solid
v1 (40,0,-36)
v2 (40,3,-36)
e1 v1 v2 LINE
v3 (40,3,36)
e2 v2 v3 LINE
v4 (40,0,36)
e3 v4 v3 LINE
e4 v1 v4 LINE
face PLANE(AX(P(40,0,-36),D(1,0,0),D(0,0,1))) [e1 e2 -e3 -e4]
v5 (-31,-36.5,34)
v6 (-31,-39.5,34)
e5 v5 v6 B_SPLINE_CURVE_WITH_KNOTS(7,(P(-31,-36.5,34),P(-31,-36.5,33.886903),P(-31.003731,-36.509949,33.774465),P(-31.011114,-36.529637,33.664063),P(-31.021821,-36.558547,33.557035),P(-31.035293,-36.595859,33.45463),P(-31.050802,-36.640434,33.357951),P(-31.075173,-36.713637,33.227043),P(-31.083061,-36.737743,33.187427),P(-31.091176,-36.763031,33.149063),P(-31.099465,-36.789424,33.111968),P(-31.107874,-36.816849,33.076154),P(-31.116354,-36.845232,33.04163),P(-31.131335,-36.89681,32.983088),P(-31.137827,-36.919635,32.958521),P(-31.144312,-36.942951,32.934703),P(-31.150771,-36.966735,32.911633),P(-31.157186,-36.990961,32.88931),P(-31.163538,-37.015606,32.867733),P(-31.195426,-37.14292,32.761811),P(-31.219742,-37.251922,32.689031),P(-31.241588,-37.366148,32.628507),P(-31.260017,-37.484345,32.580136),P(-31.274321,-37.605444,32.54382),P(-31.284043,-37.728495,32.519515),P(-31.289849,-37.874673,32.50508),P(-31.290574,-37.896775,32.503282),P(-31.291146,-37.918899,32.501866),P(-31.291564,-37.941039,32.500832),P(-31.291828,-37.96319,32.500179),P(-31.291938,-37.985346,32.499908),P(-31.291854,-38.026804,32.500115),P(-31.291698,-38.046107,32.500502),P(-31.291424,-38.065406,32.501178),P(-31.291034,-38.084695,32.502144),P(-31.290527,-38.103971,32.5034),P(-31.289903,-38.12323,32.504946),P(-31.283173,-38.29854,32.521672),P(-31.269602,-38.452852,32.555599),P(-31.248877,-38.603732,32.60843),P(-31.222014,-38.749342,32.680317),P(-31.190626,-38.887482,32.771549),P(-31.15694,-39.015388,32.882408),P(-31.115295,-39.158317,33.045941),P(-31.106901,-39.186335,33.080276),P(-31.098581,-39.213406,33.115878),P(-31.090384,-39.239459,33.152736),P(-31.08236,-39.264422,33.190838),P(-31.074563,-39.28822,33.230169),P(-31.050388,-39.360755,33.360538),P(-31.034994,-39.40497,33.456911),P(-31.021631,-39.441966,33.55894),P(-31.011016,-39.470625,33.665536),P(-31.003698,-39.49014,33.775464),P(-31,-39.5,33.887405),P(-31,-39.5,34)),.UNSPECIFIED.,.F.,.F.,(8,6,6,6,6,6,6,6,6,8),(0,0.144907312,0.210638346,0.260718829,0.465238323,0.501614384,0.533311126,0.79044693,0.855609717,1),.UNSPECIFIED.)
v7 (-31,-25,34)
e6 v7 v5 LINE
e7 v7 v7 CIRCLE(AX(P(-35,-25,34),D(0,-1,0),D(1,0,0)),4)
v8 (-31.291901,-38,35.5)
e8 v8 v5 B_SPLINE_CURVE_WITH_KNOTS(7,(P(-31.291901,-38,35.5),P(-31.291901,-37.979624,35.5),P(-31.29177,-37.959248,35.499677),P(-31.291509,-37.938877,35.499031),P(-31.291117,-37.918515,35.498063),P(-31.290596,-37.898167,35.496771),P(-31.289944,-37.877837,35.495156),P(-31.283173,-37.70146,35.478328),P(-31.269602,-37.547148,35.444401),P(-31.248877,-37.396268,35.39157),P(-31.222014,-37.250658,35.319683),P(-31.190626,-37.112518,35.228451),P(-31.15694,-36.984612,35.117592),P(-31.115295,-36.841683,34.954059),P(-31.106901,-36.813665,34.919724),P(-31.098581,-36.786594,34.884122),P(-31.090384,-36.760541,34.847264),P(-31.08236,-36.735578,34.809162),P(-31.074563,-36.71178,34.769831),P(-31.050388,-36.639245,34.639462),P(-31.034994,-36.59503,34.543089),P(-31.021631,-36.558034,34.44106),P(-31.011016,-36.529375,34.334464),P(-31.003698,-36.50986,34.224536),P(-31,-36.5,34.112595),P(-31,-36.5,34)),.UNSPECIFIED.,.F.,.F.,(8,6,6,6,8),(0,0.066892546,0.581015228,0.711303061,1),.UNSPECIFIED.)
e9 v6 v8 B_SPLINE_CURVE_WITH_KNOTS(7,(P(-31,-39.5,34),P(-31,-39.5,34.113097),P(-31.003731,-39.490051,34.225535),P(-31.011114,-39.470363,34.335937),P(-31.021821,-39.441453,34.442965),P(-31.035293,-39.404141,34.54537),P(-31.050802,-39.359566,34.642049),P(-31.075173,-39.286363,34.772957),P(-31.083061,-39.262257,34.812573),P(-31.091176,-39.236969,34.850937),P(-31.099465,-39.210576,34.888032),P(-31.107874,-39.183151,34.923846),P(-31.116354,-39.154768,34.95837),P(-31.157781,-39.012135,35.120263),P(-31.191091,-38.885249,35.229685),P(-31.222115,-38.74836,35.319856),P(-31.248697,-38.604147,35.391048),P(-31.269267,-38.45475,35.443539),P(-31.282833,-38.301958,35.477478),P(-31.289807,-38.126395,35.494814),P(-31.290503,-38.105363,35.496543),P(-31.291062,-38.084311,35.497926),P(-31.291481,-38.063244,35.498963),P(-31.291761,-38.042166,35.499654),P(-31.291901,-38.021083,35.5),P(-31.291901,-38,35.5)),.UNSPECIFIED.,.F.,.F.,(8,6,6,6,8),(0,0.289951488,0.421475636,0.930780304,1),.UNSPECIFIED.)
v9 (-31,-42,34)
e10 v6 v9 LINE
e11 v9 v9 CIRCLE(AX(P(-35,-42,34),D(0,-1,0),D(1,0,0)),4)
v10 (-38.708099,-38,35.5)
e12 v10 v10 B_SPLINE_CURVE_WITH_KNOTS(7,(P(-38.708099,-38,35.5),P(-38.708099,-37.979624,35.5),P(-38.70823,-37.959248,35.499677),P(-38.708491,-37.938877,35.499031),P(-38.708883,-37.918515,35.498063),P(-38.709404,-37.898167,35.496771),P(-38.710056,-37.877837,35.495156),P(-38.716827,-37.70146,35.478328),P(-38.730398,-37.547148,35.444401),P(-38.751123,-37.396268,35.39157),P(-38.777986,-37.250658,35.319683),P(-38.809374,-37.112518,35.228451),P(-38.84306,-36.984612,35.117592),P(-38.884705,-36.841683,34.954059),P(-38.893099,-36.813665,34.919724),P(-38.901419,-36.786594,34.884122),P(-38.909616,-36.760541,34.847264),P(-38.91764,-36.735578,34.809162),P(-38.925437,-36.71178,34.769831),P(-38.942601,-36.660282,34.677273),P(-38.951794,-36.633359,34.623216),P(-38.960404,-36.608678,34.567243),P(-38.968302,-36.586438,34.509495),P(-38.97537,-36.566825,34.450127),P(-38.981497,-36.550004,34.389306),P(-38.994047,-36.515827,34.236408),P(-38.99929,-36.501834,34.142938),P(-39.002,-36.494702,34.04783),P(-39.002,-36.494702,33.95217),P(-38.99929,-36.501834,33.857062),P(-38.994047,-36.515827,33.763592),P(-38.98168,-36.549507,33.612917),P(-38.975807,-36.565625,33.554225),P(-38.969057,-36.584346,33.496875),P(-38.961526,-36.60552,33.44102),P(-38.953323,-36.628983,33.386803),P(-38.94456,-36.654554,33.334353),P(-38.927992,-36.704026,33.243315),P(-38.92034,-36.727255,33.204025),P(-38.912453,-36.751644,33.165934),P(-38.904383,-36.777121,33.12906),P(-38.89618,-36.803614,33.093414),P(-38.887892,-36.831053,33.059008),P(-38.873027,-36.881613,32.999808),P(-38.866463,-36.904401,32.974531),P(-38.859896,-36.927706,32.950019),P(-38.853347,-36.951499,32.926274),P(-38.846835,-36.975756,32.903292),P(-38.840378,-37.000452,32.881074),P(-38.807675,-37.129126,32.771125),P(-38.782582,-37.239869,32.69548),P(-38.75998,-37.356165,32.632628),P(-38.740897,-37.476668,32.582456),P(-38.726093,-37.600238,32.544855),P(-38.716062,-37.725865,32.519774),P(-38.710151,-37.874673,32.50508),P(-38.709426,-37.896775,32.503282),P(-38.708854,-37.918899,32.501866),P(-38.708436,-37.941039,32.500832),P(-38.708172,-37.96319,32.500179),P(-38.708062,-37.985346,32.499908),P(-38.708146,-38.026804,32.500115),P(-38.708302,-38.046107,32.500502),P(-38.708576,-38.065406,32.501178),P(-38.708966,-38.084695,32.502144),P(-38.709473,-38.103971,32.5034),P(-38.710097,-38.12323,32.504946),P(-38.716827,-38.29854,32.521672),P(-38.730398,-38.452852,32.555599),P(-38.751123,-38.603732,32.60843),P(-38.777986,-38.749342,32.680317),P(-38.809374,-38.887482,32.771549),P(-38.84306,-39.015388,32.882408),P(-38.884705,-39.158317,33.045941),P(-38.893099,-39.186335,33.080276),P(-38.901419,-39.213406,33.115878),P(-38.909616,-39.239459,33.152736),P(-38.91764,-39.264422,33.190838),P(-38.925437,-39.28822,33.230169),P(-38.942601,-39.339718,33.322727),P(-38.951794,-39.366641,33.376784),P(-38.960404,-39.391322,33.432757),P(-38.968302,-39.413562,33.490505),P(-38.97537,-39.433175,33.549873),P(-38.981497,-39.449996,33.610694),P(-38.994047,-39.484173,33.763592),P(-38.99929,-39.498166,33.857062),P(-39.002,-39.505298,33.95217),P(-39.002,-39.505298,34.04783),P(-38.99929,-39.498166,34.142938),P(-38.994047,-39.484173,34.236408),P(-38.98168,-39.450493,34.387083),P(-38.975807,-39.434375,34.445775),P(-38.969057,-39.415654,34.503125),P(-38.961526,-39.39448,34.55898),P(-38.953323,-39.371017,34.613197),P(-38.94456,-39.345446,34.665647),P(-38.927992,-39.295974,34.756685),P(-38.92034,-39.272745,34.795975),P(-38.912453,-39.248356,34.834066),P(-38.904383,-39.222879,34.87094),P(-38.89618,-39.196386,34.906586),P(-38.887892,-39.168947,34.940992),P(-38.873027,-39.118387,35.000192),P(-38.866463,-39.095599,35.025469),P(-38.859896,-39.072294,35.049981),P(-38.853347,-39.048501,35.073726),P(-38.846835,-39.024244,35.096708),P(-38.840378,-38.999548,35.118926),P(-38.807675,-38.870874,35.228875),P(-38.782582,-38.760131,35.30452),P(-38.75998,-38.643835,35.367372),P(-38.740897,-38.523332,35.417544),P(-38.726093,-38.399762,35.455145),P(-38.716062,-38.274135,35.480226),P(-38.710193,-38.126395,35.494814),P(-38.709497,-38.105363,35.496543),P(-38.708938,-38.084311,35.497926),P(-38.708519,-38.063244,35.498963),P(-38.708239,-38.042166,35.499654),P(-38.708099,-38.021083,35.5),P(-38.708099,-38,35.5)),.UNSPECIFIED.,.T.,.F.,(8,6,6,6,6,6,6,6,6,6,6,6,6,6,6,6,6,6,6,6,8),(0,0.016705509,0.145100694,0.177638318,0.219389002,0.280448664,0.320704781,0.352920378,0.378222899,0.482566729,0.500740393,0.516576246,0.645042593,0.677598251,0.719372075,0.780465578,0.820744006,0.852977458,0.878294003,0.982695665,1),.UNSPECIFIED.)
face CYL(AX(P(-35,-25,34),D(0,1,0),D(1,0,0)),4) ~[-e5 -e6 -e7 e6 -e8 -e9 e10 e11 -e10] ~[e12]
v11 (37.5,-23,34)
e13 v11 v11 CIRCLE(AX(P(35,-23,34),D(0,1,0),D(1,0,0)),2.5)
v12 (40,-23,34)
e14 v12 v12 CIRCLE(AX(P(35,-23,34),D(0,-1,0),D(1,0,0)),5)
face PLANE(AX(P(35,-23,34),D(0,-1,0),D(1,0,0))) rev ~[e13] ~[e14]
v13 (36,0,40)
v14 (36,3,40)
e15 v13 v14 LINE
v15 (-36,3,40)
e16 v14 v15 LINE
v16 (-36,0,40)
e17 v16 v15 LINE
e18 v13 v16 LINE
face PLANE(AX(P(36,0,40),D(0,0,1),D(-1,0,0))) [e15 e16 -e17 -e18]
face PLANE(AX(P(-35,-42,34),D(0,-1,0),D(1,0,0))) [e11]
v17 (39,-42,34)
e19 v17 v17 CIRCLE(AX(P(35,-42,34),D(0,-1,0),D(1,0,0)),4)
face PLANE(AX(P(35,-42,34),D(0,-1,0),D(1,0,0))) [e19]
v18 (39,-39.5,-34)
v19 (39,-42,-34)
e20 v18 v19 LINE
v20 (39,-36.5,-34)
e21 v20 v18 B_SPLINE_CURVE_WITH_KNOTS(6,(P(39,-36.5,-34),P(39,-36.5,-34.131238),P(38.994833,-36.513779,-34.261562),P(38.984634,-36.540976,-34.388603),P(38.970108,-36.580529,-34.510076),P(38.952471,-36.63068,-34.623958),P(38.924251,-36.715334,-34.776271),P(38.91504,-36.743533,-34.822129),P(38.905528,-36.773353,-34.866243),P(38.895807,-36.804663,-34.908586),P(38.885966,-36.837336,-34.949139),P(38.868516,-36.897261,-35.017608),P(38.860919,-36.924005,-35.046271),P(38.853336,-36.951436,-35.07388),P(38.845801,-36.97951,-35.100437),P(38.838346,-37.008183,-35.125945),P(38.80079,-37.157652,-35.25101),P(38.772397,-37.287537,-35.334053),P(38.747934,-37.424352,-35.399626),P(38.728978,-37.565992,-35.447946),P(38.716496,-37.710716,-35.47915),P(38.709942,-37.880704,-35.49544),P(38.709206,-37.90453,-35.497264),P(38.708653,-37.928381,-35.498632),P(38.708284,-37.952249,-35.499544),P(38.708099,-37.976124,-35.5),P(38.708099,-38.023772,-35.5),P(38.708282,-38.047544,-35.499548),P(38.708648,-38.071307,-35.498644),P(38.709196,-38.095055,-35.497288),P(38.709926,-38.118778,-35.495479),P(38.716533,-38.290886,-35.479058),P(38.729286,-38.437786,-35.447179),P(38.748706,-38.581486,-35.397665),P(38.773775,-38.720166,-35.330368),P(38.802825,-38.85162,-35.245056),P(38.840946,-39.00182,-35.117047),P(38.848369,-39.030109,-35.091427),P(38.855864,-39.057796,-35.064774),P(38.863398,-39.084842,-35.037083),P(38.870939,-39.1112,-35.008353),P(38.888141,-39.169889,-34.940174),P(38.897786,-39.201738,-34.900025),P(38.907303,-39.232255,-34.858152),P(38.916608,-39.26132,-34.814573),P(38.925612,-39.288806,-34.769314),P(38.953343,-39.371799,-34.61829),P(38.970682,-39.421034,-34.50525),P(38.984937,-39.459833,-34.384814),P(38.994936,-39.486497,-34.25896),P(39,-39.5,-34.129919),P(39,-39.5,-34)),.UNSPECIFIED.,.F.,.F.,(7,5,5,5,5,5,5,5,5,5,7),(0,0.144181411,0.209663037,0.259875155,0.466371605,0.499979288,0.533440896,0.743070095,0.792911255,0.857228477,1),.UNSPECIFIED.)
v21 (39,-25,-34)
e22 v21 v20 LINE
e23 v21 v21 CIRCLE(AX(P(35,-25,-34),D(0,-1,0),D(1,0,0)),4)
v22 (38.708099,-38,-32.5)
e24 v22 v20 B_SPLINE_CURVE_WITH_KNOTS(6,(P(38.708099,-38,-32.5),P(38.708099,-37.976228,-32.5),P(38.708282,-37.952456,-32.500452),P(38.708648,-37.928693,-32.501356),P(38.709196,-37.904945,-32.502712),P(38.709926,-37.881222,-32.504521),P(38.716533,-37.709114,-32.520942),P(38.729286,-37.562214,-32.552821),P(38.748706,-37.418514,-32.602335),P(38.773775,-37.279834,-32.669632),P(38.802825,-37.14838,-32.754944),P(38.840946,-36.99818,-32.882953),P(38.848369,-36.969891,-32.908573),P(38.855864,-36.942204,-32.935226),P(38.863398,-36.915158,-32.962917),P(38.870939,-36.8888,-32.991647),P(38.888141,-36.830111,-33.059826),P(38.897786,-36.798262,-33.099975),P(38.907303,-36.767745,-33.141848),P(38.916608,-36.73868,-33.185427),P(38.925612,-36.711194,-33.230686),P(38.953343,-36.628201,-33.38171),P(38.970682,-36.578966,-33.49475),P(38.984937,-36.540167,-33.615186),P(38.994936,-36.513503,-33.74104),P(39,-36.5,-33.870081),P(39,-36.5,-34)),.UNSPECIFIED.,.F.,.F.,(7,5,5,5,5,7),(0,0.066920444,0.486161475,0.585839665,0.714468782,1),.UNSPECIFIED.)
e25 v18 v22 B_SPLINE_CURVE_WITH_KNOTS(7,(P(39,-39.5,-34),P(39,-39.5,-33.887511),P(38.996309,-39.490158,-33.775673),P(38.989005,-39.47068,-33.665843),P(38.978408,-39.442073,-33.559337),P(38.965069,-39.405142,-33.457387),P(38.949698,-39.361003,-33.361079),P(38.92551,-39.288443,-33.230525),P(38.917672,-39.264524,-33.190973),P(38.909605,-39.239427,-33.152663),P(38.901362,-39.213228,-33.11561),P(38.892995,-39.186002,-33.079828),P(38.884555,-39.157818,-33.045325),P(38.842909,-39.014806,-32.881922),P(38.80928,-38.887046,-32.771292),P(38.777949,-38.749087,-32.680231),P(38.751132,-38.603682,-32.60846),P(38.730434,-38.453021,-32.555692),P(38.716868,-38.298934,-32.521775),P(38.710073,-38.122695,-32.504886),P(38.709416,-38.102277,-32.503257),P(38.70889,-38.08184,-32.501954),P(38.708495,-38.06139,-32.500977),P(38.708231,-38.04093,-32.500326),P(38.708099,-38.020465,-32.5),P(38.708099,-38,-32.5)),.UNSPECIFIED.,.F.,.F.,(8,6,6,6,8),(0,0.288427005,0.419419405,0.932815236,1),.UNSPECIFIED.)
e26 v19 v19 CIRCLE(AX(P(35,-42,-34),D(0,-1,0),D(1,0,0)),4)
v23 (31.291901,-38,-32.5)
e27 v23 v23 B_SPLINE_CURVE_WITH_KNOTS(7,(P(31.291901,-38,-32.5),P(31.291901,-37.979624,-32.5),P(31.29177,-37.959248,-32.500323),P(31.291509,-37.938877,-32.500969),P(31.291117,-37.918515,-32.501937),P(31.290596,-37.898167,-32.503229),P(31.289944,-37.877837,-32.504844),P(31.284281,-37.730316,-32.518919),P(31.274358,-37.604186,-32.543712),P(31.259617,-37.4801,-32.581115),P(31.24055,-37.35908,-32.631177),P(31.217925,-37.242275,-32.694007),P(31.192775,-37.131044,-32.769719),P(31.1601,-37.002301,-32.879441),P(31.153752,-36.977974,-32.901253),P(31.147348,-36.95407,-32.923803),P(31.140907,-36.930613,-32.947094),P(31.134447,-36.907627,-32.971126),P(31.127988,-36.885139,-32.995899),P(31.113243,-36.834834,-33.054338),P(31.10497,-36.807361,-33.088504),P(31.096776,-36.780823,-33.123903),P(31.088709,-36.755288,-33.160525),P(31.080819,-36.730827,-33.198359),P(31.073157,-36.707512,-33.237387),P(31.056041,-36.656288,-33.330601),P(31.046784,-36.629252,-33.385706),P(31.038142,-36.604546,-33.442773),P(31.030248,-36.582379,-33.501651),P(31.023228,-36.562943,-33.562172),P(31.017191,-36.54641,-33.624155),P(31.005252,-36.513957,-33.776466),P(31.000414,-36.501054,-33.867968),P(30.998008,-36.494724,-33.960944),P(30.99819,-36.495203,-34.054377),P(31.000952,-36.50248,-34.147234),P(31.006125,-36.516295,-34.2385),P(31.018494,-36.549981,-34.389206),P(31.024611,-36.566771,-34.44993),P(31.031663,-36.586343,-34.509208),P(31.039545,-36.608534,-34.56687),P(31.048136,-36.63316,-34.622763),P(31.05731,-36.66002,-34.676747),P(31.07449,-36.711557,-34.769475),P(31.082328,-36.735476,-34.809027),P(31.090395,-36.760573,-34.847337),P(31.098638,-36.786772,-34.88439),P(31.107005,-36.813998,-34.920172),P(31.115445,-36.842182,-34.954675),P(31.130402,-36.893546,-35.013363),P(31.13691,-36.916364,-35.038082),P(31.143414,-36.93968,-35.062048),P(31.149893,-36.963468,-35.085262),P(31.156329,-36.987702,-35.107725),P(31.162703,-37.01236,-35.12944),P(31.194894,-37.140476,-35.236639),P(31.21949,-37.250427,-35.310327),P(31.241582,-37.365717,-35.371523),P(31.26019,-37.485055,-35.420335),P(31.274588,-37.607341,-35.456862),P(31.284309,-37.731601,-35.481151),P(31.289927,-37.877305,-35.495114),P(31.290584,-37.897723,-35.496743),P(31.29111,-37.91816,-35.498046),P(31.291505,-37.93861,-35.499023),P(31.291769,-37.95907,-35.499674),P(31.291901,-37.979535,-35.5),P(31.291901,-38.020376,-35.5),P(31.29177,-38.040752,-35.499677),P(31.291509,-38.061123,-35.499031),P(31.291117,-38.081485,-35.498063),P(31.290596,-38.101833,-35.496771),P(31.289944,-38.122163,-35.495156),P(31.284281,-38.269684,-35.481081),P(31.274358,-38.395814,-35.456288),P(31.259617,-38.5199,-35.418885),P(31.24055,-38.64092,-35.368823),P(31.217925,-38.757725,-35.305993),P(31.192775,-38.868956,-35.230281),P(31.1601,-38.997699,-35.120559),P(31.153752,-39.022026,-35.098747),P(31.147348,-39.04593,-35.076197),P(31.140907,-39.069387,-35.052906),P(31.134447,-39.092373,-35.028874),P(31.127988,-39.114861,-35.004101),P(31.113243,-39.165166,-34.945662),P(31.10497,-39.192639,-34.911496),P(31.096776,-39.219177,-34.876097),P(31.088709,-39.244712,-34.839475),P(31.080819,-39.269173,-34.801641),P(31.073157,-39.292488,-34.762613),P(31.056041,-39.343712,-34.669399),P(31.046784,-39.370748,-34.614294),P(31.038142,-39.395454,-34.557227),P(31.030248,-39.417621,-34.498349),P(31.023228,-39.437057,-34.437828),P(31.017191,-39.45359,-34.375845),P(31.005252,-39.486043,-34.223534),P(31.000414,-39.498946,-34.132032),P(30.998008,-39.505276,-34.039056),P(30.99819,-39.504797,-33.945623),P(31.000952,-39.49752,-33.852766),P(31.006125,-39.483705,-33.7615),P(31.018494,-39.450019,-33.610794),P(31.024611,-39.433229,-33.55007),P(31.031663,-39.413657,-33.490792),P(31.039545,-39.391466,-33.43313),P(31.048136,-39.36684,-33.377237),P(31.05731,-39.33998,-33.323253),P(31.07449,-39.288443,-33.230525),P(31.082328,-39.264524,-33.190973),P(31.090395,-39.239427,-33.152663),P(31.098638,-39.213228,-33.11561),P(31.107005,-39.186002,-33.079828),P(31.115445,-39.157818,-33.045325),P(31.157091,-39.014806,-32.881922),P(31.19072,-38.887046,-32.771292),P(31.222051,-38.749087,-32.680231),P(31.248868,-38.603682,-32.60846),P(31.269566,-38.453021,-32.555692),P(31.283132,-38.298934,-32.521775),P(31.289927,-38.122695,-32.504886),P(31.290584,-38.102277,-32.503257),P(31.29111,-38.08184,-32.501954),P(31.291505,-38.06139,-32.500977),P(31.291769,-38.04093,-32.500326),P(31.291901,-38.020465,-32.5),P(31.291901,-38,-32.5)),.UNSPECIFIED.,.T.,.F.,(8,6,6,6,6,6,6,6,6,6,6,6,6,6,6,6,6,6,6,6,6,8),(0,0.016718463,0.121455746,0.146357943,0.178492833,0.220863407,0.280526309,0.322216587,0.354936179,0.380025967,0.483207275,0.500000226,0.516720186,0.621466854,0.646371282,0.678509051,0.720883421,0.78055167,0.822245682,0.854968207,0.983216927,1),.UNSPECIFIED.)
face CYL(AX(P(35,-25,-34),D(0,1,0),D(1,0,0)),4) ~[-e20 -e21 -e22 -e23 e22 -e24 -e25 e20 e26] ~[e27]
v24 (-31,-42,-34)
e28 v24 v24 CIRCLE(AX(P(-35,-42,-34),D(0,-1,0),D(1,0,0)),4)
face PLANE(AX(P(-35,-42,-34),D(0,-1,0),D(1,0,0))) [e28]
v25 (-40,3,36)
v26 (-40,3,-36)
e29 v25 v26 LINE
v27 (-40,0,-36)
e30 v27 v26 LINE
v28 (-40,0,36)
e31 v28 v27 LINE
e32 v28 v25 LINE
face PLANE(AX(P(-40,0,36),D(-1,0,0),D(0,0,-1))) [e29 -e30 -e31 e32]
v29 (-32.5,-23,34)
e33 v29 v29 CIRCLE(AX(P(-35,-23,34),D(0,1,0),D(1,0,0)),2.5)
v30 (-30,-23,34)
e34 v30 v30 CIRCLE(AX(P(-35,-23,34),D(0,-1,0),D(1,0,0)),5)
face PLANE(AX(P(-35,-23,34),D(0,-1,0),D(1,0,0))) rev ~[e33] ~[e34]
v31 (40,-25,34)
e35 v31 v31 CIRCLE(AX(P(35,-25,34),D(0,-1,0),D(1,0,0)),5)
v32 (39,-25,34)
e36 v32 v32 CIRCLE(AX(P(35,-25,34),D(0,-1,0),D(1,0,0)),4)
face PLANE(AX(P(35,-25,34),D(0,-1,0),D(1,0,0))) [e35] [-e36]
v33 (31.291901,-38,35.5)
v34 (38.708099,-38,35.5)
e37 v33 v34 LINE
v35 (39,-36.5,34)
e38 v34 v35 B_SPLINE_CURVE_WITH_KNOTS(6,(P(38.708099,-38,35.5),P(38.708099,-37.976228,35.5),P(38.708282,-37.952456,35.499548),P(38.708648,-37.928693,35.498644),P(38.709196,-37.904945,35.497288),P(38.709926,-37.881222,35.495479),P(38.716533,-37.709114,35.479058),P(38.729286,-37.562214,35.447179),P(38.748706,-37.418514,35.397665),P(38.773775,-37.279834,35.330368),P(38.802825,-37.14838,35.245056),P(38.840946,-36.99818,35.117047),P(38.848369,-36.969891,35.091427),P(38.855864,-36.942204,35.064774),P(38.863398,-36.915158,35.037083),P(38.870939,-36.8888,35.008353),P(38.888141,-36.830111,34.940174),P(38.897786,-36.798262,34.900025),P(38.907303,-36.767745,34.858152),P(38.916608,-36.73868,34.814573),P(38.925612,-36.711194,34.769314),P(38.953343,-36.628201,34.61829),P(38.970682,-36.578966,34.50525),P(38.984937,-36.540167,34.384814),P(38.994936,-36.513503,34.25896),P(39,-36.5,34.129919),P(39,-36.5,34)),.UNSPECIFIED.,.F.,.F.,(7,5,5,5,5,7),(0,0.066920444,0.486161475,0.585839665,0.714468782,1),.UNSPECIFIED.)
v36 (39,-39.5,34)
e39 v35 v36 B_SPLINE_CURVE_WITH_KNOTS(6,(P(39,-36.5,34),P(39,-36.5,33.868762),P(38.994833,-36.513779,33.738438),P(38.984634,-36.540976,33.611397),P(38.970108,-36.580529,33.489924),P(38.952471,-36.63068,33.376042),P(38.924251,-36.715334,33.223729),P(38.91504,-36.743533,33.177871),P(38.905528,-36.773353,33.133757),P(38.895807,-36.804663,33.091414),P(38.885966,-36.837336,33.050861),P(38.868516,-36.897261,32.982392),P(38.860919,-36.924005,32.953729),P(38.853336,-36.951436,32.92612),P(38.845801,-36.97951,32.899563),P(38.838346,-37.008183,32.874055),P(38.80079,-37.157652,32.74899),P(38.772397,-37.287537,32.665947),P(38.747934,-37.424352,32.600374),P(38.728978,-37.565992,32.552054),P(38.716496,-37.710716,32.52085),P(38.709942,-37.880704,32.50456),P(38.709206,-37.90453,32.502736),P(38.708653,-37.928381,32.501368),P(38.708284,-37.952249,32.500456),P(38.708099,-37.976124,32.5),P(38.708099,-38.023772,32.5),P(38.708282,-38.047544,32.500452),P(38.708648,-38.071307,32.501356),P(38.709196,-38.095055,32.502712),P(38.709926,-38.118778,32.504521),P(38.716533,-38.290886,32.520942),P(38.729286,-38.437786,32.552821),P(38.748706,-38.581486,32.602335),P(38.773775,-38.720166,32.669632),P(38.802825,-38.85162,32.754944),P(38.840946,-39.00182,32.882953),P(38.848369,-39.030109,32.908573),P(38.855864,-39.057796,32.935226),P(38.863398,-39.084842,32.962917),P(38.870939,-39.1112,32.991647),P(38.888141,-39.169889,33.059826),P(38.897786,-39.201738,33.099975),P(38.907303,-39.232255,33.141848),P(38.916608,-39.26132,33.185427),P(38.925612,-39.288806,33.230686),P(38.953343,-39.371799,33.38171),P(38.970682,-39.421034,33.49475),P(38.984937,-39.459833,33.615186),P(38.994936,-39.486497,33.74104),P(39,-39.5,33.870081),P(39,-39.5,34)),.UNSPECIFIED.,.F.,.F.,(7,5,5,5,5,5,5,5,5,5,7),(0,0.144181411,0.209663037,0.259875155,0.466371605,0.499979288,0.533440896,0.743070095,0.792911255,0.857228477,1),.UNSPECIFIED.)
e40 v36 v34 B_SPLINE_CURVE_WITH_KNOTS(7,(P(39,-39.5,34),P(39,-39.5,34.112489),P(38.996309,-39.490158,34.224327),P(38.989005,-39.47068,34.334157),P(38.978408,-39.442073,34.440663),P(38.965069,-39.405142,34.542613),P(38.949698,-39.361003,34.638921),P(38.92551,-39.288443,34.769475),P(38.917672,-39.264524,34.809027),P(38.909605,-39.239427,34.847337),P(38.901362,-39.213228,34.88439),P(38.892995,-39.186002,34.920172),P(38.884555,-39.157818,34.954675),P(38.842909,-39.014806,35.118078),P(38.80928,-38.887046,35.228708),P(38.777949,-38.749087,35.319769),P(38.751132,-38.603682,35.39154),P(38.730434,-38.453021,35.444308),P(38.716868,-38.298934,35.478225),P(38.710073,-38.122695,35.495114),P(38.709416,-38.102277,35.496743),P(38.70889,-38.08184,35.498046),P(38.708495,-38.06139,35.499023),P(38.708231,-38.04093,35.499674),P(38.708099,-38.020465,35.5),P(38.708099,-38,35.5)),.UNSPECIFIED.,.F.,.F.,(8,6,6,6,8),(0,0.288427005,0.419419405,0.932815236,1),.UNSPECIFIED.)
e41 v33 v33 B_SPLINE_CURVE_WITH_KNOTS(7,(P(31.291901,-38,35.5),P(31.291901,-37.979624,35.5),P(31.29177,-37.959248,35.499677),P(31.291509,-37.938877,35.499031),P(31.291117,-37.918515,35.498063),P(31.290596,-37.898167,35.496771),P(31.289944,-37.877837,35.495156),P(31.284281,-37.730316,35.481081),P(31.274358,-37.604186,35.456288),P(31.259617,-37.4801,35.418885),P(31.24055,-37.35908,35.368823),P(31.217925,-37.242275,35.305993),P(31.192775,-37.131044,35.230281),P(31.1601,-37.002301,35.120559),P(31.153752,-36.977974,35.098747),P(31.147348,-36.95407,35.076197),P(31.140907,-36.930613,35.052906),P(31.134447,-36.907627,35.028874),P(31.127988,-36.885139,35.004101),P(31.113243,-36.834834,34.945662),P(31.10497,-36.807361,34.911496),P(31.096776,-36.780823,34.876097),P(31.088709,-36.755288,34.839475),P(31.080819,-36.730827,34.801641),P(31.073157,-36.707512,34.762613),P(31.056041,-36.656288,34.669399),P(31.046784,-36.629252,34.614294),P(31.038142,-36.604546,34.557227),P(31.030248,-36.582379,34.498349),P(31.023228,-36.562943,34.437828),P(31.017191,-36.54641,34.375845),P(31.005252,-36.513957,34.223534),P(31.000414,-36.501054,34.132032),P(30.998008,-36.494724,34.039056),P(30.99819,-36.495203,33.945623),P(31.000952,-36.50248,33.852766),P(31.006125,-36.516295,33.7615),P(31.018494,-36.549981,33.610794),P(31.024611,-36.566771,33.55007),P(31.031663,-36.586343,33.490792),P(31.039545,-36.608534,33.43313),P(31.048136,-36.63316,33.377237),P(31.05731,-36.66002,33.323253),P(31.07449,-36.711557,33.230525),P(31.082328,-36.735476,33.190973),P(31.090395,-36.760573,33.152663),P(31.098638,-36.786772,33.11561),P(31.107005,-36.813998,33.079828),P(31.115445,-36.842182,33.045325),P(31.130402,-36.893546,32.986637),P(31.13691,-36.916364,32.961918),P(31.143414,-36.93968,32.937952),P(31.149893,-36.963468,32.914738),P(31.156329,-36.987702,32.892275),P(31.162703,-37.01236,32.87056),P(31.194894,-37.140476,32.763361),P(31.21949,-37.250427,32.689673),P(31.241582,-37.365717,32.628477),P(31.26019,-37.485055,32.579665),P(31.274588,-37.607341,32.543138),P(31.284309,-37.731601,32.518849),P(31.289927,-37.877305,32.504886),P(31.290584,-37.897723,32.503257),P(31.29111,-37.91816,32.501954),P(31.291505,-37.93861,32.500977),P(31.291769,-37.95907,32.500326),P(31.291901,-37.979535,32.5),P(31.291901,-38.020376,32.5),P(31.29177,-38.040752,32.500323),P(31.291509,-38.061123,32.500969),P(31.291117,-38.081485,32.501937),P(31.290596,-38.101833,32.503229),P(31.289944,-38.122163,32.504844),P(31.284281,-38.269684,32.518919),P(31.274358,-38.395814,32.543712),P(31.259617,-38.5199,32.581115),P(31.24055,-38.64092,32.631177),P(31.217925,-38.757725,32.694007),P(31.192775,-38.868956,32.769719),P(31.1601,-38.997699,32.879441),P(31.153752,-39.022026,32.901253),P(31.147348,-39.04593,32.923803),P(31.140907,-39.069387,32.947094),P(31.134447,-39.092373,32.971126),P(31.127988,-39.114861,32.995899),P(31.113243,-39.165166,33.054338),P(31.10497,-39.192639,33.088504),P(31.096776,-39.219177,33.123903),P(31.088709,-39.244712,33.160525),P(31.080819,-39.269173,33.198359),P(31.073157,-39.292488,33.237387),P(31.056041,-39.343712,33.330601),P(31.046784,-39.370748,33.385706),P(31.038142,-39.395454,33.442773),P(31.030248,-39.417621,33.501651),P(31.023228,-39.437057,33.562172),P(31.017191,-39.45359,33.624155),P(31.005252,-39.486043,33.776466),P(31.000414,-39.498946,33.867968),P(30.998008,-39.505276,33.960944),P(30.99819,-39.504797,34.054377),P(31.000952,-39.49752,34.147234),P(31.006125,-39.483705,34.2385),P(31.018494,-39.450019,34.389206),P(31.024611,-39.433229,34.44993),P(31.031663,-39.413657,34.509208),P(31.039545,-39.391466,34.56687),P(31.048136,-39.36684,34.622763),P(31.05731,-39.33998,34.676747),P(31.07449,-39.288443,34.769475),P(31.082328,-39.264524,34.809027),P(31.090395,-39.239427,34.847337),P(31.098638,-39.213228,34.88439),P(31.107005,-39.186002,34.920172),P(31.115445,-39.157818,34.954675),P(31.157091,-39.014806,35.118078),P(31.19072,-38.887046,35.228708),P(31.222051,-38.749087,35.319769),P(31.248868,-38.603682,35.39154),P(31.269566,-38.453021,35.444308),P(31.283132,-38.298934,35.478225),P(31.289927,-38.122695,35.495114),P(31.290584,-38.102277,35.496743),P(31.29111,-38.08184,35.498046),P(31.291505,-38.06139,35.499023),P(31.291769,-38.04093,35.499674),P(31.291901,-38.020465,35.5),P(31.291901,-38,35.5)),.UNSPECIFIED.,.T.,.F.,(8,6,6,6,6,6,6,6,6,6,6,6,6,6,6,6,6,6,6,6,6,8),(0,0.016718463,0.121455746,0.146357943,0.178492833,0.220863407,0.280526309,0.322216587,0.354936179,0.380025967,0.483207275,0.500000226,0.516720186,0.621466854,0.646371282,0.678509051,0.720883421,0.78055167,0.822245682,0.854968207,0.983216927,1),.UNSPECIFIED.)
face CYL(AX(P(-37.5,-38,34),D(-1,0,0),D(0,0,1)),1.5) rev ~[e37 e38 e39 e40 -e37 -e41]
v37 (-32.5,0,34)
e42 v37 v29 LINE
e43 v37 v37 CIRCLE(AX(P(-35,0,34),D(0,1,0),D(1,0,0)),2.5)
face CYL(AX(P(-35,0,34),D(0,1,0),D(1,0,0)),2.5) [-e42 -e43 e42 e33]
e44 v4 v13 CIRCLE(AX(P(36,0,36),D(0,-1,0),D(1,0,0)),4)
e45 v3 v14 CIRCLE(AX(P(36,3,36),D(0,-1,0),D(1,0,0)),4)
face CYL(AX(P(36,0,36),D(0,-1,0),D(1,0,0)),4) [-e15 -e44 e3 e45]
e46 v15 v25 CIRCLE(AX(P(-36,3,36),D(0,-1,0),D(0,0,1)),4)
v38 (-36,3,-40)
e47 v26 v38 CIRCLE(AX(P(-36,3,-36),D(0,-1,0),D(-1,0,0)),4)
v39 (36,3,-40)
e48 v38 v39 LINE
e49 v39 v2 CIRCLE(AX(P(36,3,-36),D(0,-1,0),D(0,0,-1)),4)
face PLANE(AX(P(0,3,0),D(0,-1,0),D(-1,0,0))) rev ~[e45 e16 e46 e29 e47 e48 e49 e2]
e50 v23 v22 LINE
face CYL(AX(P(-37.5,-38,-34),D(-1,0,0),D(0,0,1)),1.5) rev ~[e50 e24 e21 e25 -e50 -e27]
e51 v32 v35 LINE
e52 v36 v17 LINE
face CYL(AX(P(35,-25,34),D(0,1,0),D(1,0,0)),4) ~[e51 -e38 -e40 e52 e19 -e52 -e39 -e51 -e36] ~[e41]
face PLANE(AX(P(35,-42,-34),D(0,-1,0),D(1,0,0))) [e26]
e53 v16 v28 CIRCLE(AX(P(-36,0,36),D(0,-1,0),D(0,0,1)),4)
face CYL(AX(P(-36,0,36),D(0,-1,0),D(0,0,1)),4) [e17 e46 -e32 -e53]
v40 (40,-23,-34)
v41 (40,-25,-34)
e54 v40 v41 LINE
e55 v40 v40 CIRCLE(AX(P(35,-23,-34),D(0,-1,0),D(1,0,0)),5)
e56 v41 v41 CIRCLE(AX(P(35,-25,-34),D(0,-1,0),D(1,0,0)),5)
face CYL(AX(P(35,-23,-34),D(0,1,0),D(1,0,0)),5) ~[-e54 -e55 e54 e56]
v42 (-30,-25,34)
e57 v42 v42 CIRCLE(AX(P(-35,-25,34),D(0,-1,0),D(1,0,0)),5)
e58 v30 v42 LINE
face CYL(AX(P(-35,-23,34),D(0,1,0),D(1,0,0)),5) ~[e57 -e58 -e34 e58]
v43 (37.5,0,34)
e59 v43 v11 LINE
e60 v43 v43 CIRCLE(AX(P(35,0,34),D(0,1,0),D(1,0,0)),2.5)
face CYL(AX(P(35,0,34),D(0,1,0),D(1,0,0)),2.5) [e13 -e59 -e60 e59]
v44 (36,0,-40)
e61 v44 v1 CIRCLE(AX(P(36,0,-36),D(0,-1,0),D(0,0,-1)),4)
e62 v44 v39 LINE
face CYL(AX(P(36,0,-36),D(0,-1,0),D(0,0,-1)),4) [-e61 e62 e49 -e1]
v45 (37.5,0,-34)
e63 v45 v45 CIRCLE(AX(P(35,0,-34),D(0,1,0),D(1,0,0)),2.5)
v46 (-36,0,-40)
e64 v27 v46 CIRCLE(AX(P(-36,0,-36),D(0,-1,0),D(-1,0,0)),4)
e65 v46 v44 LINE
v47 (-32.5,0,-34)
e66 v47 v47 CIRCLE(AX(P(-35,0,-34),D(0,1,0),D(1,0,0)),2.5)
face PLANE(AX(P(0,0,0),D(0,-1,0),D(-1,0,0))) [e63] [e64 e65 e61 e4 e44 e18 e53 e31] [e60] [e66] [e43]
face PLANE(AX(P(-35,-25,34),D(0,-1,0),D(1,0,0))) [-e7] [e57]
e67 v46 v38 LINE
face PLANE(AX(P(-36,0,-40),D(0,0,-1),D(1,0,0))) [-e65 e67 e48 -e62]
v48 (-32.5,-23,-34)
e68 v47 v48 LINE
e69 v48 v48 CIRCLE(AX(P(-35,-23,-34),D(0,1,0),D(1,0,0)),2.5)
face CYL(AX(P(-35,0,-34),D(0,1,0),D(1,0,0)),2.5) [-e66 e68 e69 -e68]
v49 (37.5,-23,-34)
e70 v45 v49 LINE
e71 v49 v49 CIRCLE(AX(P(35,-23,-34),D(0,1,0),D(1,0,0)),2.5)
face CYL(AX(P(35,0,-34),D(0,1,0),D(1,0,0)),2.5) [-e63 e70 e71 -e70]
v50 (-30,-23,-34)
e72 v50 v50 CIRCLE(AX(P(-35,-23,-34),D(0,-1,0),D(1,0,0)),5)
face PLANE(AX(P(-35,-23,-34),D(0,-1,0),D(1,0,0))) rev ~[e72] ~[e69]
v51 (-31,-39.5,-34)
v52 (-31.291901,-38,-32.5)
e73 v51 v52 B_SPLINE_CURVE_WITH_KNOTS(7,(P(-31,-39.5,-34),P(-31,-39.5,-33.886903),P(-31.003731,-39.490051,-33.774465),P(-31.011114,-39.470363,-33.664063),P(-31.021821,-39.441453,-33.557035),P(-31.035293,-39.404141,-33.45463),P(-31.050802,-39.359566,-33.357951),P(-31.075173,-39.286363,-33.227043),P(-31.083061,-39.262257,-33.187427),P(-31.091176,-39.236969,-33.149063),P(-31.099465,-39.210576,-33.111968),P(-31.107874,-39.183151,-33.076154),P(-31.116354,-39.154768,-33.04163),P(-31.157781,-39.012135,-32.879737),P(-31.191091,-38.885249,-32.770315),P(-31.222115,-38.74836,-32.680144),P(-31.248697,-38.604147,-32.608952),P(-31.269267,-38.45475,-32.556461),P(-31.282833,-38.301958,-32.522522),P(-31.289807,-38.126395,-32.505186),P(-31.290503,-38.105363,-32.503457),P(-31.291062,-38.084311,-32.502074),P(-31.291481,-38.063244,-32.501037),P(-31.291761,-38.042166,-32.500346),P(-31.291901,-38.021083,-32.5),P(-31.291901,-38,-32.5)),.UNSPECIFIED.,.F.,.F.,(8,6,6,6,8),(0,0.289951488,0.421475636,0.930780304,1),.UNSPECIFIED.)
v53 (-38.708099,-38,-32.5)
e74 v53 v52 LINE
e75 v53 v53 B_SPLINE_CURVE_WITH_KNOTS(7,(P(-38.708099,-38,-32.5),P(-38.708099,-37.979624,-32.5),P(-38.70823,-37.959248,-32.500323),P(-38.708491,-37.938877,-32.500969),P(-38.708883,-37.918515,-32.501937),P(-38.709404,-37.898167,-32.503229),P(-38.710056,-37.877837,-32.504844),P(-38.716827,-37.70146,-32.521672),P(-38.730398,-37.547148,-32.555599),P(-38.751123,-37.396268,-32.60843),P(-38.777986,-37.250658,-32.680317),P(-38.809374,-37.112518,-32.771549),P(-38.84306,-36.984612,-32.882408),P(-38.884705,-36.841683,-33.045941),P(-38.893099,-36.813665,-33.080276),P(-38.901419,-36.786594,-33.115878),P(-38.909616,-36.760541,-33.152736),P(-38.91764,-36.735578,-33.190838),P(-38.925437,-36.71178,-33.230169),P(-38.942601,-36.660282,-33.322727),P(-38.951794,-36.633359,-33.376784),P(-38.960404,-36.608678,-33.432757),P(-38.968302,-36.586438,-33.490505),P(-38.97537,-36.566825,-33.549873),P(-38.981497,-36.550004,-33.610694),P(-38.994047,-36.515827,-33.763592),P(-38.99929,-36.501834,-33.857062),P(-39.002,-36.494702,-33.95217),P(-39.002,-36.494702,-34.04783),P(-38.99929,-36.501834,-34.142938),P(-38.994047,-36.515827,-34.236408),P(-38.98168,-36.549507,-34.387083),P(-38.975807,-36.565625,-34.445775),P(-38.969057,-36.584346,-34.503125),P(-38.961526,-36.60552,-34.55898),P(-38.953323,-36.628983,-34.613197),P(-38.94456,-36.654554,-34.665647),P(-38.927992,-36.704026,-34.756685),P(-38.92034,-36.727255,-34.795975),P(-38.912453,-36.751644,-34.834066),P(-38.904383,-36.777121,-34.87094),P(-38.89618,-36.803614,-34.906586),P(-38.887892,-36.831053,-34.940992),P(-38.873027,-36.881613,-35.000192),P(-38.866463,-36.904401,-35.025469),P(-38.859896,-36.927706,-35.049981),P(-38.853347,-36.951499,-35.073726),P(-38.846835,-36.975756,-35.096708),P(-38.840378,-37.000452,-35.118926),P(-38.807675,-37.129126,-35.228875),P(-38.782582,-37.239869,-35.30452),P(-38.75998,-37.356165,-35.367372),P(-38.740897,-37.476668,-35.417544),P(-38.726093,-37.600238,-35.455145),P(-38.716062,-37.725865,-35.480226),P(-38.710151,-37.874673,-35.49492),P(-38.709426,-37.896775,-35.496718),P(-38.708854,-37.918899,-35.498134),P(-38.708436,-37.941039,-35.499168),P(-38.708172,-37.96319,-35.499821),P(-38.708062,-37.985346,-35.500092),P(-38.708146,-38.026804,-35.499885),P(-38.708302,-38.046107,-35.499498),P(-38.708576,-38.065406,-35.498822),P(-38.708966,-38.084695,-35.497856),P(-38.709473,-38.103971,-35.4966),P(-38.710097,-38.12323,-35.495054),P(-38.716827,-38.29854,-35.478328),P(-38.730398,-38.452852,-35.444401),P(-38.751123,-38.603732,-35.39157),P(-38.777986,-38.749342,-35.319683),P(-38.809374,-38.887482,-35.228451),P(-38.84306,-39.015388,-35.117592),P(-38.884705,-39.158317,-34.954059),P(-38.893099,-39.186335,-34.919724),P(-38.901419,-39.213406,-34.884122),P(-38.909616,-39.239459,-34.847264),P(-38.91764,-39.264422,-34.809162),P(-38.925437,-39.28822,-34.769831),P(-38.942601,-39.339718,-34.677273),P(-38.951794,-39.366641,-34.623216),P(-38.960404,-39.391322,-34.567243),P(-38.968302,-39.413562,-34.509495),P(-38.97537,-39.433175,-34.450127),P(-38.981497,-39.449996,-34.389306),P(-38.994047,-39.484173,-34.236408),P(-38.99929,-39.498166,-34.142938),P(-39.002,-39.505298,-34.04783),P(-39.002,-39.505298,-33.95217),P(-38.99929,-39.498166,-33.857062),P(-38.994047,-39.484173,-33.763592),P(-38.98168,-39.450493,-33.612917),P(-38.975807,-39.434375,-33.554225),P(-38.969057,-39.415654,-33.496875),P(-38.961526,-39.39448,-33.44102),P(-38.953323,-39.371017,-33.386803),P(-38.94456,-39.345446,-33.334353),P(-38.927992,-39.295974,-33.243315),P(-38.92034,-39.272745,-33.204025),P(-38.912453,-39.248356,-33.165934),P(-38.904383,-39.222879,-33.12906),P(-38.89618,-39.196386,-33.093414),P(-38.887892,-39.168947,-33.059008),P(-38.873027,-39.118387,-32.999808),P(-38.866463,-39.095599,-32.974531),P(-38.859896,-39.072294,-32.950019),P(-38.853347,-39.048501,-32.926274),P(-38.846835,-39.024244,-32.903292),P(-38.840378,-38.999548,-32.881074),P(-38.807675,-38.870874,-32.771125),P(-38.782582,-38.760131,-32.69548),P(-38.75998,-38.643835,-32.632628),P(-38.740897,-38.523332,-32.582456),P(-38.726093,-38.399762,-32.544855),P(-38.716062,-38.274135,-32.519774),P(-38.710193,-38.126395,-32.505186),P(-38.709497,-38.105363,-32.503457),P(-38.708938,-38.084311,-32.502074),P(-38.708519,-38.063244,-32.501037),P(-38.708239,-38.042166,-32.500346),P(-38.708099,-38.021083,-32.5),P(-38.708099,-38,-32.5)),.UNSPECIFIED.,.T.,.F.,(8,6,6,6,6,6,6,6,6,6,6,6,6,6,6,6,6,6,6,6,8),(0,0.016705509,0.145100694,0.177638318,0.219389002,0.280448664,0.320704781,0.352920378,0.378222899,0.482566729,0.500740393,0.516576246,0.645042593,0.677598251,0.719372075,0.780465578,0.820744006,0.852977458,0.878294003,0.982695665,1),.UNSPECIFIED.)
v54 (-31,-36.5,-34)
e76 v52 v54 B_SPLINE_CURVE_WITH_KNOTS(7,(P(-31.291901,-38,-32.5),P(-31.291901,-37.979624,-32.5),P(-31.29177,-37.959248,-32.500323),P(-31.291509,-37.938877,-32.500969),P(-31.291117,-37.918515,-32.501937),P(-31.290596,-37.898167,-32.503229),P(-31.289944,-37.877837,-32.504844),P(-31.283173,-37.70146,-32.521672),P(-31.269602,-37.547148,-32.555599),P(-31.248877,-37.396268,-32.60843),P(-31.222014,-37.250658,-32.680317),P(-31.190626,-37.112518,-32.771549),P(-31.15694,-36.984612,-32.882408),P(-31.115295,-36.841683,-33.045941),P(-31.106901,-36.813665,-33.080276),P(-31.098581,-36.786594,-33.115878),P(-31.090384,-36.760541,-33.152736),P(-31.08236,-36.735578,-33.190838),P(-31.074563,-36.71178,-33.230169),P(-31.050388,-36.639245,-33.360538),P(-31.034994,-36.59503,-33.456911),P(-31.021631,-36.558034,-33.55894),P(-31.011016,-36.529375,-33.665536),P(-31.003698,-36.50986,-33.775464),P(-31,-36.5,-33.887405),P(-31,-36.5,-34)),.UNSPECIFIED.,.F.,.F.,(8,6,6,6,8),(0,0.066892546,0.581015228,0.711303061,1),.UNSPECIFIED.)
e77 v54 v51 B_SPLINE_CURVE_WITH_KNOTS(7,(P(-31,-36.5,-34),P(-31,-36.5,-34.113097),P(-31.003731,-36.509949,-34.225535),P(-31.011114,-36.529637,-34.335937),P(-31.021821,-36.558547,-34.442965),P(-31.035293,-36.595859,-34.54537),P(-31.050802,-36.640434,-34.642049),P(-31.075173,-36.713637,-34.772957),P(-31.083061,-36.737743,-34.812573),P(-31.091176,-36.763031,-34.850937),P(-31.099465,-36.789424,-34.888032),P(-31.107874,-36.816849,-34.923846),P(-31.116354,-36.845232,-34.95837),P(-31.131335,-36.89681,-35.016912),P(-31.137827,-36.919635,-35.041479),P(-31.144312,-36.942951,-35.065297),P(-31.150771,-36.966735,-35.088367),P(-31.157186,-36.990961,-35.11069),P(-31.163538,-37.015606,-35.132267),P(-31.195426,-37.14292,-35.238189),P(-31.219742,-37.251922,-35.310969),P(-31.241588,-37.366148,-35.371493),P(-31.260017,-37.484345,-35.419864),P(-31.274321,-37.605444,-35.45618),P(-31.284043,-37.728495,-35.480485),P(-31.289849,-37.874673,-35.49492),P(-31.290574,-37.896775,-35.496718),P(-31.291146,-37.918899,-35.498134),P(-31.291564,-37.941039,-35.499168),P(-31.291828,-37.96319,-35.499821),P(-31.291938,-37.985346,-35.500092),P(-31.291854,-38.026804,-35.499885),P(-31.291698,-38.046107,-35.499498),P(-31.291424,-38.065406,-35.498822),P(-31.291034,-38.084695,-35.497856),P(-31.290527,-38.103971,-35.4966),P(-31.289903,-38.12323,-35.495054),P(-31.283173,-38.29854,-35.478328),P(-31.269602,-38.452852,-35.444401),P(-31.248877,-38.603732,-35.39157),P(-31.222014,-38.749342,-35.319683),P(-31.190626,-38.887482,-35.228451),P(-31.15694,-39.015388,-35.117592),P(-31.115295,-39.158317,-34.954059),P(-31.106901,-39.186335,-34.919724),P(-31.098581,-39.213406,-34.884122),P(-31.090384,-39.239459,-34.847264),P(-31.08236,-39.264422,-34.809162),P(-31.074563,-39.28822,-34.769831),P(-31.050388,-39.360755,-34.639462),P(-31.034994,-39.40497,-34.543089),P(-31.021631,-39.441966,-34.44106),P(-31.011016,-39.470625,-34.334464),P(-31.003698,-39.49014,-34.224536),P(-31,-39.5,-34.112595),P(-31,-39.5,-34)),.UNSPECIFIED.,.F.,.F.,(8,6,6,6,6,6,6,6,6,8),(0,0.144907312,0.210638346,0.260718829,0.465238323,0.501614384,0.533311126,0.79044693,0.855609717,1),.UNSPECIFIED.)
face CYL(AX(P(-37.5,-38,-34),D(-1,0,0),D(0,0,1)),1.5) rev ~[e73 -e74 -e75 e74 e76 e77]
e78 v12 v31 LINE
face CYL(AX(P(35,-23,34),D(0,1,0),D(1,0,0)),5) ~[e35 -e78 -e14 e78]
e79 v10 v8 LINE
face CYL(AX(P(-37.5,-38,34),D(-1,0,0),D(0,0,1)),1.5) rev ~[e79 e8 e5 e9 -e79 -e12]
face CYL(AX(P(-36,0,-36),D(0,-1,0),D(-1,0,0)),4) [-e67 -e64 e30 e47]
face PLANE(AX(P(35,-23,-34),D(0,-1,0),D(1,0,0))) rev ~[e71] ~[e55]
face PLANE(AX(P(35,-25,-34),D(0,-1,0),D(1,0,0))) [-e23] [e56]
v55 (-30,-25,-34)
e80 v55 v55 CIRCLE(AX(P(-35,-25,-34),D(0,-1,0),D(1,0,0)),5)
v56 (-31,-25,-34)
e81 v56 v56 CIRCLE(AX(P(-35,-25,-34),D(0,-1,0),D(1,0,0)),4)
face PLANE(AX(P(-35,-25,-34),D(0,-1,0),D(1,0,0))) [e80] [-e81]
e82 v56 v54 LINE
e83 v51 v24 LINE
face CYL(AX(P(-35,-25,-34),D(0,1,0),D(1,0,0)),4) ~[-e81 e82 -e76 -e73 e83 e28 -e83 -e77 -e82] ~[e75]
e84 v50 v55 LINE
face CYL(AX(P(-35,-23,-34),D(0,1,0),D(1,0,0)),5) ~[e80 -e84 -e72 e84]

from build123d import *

# Parameters (mm, degrees)
SKETCH1_R               = 2.5
BOSS_EXTRUDE1_DEPTH     = 3
SKETCH1_3_R             = 2.5
BOSS_EXTRUDE2_DEPTH     = 42
SKETCH2_R               = 1.5
CUT_EXTRUDE1_DEPTH      = 147
BOSS_EXTRUDE3_START     = 23
SKETCH3_R               = 5
BOSS_EXTRUDE3_DEPTH     = 2
SKETCH4_R               = 4
BOSS_EXTRUDE4_DEPTH     = 17
SKETCH2_3_R             = 1.5
CUT_EXTRUDE2_DEPTH      = 101
CUT_EXTRUDE2_DEPTH_BACK = 130


with BuildPart() as part:
    # Sketch1 → Boss-Extrude1 (new body)
    with BuildSketch(Plane(origin=(0, 0, 0), x_dir=(1, 0, 0), z_dir=(0, 1, 0))):
        with BuildLine():
            ThreePointArc((-40, 36), (-38.828427125, 38.828427125), (-36, 40))
            Line((-36, 40), (36, 40))
            ThreePointArc((36, 40), (38.828427125, 38.828427125), (40, 36))
            Line((40, 36), (40, -36))
            ThreePointArc((40, -36), (38.828427125, -38.828427125), (36, -40))
            Line((36, -40), (-36, -40))
            ThreePointArc((-36, -40), (-38.828427125, -38.828427125), (-40, -36))
            Line((-40, -36), (-40, 36))
        make_face()
        with Locations((35, 34)):
            Circle(SKETCH1_R, mode=Mode.SUBTRACT)
        with Locations((35, -34)):
            Circle(SKETCH1_R, mode=Mode.SUBTRACT)
        with Locations((-35, -34)):
            Circle(SKETCH1_R, mode=Mode.SUBTRACT)
        with Locations((-35, 34)):
            Circle(SKETCH1_R, mode=Mode.SUBTRACT)
        with Locations((-35, 34)):
            Circle(SKETCH1_R)
        with Locations((35, 34)):
            Circle(SKETCH1_R)
        with Locations((-35, -34)):
            Circle(SKETCH1_R)
        with Locations((35, -34)):
            Circle(SKETCH1_R)
    extrude(amount=BOSS_EXTRUDE1_DEPTH)

    # Sketch1<3> → Boss-Extrude2 (add)
    with BuildSketch(Plane(origin=(0, 0, 0), x_dir=(1, 0, 0), z_dir=(0, 1, 0))):
        with Locations((-35, 34)):
            Circle(SKETCH1_3_R)
        with Locations((-35, -34)):
            Circle(SKETCH1_3_R)
        with Locations((35, -34)):
            Circle(SKETCH1_3_R)
        with Locations((35, 34)):
            Circle(SKETCH1_3_R)
    extrude(amount=-BOSS_EXTRUDE2_DEPTH)

    # Sketch2 → Cut-Extrude1 (cut)
    with BuildSketch(Plane.ZY.offset(37.5)):
        with Locations((-34, -38)):
            Circle(SKETCH2_R)
        with Locations((34, -38)):
            Circle(SKETCH2_R)
    extrude(amount=-CUT_EXTRUDE1_DEPTH, mode=Mode.SUBTRACT)

    # Sketch3 → Boss-Extrude3 (add)
    with BuildSketch(Plane.XZ.offset(BOSS_EXTRUDE3_START)):
        with Locations((35, 34)):
            Circle(SKETCH3_R)
        with Locations((-35, 34)):
            Circle(SKETCH3_R)
        with Locations((-35, -34)):
            Circle(SKETCH3_R)
        with Locations((35, -34)):
            Circle(SKETCH3_R)
    extrude(amount=BOSS_EXTRUDE3_DEPTH)

    # Sketch4 → Boss-Extrude4 (add)
    with BuildSketch(Plane.XZ.offset(25)):
        with Locations((-35, 34)):
            Circle(SKETCH4_R)
        with Locations((35, 34)):
            Circle(SKETCH4_R)
        with Locations((-35, -34)):
            Circle(SKETCH4_R)
        with Locations((35, -34)):
            Circle(SKETCH4_R)
    extrude(amount=BOSS_EXTRUDE4_DEPTH)

    # Sketch2<3> → Cut-Extrude2 (cut, two sides)
    with BuildSketch(Plane.ZY.offset(37.5)) as cut_extrude2_sk:
        with Locations((-34, -38)):
            Circle(SKETCH2_3_R)
        with Locations((34, -38)):
            Circle(SKETCH2_3_R)
    extrude(amount=CUT_EXTRUDE2_DEPTH, mode=Mode.SUBTRACT)
    extrude(cut_extrude2_sk.sketch, amount=-CUT_EXTRUDE2_DEPTH_BACK, mode=Mode.SUBTRACT)


solid = part.part
